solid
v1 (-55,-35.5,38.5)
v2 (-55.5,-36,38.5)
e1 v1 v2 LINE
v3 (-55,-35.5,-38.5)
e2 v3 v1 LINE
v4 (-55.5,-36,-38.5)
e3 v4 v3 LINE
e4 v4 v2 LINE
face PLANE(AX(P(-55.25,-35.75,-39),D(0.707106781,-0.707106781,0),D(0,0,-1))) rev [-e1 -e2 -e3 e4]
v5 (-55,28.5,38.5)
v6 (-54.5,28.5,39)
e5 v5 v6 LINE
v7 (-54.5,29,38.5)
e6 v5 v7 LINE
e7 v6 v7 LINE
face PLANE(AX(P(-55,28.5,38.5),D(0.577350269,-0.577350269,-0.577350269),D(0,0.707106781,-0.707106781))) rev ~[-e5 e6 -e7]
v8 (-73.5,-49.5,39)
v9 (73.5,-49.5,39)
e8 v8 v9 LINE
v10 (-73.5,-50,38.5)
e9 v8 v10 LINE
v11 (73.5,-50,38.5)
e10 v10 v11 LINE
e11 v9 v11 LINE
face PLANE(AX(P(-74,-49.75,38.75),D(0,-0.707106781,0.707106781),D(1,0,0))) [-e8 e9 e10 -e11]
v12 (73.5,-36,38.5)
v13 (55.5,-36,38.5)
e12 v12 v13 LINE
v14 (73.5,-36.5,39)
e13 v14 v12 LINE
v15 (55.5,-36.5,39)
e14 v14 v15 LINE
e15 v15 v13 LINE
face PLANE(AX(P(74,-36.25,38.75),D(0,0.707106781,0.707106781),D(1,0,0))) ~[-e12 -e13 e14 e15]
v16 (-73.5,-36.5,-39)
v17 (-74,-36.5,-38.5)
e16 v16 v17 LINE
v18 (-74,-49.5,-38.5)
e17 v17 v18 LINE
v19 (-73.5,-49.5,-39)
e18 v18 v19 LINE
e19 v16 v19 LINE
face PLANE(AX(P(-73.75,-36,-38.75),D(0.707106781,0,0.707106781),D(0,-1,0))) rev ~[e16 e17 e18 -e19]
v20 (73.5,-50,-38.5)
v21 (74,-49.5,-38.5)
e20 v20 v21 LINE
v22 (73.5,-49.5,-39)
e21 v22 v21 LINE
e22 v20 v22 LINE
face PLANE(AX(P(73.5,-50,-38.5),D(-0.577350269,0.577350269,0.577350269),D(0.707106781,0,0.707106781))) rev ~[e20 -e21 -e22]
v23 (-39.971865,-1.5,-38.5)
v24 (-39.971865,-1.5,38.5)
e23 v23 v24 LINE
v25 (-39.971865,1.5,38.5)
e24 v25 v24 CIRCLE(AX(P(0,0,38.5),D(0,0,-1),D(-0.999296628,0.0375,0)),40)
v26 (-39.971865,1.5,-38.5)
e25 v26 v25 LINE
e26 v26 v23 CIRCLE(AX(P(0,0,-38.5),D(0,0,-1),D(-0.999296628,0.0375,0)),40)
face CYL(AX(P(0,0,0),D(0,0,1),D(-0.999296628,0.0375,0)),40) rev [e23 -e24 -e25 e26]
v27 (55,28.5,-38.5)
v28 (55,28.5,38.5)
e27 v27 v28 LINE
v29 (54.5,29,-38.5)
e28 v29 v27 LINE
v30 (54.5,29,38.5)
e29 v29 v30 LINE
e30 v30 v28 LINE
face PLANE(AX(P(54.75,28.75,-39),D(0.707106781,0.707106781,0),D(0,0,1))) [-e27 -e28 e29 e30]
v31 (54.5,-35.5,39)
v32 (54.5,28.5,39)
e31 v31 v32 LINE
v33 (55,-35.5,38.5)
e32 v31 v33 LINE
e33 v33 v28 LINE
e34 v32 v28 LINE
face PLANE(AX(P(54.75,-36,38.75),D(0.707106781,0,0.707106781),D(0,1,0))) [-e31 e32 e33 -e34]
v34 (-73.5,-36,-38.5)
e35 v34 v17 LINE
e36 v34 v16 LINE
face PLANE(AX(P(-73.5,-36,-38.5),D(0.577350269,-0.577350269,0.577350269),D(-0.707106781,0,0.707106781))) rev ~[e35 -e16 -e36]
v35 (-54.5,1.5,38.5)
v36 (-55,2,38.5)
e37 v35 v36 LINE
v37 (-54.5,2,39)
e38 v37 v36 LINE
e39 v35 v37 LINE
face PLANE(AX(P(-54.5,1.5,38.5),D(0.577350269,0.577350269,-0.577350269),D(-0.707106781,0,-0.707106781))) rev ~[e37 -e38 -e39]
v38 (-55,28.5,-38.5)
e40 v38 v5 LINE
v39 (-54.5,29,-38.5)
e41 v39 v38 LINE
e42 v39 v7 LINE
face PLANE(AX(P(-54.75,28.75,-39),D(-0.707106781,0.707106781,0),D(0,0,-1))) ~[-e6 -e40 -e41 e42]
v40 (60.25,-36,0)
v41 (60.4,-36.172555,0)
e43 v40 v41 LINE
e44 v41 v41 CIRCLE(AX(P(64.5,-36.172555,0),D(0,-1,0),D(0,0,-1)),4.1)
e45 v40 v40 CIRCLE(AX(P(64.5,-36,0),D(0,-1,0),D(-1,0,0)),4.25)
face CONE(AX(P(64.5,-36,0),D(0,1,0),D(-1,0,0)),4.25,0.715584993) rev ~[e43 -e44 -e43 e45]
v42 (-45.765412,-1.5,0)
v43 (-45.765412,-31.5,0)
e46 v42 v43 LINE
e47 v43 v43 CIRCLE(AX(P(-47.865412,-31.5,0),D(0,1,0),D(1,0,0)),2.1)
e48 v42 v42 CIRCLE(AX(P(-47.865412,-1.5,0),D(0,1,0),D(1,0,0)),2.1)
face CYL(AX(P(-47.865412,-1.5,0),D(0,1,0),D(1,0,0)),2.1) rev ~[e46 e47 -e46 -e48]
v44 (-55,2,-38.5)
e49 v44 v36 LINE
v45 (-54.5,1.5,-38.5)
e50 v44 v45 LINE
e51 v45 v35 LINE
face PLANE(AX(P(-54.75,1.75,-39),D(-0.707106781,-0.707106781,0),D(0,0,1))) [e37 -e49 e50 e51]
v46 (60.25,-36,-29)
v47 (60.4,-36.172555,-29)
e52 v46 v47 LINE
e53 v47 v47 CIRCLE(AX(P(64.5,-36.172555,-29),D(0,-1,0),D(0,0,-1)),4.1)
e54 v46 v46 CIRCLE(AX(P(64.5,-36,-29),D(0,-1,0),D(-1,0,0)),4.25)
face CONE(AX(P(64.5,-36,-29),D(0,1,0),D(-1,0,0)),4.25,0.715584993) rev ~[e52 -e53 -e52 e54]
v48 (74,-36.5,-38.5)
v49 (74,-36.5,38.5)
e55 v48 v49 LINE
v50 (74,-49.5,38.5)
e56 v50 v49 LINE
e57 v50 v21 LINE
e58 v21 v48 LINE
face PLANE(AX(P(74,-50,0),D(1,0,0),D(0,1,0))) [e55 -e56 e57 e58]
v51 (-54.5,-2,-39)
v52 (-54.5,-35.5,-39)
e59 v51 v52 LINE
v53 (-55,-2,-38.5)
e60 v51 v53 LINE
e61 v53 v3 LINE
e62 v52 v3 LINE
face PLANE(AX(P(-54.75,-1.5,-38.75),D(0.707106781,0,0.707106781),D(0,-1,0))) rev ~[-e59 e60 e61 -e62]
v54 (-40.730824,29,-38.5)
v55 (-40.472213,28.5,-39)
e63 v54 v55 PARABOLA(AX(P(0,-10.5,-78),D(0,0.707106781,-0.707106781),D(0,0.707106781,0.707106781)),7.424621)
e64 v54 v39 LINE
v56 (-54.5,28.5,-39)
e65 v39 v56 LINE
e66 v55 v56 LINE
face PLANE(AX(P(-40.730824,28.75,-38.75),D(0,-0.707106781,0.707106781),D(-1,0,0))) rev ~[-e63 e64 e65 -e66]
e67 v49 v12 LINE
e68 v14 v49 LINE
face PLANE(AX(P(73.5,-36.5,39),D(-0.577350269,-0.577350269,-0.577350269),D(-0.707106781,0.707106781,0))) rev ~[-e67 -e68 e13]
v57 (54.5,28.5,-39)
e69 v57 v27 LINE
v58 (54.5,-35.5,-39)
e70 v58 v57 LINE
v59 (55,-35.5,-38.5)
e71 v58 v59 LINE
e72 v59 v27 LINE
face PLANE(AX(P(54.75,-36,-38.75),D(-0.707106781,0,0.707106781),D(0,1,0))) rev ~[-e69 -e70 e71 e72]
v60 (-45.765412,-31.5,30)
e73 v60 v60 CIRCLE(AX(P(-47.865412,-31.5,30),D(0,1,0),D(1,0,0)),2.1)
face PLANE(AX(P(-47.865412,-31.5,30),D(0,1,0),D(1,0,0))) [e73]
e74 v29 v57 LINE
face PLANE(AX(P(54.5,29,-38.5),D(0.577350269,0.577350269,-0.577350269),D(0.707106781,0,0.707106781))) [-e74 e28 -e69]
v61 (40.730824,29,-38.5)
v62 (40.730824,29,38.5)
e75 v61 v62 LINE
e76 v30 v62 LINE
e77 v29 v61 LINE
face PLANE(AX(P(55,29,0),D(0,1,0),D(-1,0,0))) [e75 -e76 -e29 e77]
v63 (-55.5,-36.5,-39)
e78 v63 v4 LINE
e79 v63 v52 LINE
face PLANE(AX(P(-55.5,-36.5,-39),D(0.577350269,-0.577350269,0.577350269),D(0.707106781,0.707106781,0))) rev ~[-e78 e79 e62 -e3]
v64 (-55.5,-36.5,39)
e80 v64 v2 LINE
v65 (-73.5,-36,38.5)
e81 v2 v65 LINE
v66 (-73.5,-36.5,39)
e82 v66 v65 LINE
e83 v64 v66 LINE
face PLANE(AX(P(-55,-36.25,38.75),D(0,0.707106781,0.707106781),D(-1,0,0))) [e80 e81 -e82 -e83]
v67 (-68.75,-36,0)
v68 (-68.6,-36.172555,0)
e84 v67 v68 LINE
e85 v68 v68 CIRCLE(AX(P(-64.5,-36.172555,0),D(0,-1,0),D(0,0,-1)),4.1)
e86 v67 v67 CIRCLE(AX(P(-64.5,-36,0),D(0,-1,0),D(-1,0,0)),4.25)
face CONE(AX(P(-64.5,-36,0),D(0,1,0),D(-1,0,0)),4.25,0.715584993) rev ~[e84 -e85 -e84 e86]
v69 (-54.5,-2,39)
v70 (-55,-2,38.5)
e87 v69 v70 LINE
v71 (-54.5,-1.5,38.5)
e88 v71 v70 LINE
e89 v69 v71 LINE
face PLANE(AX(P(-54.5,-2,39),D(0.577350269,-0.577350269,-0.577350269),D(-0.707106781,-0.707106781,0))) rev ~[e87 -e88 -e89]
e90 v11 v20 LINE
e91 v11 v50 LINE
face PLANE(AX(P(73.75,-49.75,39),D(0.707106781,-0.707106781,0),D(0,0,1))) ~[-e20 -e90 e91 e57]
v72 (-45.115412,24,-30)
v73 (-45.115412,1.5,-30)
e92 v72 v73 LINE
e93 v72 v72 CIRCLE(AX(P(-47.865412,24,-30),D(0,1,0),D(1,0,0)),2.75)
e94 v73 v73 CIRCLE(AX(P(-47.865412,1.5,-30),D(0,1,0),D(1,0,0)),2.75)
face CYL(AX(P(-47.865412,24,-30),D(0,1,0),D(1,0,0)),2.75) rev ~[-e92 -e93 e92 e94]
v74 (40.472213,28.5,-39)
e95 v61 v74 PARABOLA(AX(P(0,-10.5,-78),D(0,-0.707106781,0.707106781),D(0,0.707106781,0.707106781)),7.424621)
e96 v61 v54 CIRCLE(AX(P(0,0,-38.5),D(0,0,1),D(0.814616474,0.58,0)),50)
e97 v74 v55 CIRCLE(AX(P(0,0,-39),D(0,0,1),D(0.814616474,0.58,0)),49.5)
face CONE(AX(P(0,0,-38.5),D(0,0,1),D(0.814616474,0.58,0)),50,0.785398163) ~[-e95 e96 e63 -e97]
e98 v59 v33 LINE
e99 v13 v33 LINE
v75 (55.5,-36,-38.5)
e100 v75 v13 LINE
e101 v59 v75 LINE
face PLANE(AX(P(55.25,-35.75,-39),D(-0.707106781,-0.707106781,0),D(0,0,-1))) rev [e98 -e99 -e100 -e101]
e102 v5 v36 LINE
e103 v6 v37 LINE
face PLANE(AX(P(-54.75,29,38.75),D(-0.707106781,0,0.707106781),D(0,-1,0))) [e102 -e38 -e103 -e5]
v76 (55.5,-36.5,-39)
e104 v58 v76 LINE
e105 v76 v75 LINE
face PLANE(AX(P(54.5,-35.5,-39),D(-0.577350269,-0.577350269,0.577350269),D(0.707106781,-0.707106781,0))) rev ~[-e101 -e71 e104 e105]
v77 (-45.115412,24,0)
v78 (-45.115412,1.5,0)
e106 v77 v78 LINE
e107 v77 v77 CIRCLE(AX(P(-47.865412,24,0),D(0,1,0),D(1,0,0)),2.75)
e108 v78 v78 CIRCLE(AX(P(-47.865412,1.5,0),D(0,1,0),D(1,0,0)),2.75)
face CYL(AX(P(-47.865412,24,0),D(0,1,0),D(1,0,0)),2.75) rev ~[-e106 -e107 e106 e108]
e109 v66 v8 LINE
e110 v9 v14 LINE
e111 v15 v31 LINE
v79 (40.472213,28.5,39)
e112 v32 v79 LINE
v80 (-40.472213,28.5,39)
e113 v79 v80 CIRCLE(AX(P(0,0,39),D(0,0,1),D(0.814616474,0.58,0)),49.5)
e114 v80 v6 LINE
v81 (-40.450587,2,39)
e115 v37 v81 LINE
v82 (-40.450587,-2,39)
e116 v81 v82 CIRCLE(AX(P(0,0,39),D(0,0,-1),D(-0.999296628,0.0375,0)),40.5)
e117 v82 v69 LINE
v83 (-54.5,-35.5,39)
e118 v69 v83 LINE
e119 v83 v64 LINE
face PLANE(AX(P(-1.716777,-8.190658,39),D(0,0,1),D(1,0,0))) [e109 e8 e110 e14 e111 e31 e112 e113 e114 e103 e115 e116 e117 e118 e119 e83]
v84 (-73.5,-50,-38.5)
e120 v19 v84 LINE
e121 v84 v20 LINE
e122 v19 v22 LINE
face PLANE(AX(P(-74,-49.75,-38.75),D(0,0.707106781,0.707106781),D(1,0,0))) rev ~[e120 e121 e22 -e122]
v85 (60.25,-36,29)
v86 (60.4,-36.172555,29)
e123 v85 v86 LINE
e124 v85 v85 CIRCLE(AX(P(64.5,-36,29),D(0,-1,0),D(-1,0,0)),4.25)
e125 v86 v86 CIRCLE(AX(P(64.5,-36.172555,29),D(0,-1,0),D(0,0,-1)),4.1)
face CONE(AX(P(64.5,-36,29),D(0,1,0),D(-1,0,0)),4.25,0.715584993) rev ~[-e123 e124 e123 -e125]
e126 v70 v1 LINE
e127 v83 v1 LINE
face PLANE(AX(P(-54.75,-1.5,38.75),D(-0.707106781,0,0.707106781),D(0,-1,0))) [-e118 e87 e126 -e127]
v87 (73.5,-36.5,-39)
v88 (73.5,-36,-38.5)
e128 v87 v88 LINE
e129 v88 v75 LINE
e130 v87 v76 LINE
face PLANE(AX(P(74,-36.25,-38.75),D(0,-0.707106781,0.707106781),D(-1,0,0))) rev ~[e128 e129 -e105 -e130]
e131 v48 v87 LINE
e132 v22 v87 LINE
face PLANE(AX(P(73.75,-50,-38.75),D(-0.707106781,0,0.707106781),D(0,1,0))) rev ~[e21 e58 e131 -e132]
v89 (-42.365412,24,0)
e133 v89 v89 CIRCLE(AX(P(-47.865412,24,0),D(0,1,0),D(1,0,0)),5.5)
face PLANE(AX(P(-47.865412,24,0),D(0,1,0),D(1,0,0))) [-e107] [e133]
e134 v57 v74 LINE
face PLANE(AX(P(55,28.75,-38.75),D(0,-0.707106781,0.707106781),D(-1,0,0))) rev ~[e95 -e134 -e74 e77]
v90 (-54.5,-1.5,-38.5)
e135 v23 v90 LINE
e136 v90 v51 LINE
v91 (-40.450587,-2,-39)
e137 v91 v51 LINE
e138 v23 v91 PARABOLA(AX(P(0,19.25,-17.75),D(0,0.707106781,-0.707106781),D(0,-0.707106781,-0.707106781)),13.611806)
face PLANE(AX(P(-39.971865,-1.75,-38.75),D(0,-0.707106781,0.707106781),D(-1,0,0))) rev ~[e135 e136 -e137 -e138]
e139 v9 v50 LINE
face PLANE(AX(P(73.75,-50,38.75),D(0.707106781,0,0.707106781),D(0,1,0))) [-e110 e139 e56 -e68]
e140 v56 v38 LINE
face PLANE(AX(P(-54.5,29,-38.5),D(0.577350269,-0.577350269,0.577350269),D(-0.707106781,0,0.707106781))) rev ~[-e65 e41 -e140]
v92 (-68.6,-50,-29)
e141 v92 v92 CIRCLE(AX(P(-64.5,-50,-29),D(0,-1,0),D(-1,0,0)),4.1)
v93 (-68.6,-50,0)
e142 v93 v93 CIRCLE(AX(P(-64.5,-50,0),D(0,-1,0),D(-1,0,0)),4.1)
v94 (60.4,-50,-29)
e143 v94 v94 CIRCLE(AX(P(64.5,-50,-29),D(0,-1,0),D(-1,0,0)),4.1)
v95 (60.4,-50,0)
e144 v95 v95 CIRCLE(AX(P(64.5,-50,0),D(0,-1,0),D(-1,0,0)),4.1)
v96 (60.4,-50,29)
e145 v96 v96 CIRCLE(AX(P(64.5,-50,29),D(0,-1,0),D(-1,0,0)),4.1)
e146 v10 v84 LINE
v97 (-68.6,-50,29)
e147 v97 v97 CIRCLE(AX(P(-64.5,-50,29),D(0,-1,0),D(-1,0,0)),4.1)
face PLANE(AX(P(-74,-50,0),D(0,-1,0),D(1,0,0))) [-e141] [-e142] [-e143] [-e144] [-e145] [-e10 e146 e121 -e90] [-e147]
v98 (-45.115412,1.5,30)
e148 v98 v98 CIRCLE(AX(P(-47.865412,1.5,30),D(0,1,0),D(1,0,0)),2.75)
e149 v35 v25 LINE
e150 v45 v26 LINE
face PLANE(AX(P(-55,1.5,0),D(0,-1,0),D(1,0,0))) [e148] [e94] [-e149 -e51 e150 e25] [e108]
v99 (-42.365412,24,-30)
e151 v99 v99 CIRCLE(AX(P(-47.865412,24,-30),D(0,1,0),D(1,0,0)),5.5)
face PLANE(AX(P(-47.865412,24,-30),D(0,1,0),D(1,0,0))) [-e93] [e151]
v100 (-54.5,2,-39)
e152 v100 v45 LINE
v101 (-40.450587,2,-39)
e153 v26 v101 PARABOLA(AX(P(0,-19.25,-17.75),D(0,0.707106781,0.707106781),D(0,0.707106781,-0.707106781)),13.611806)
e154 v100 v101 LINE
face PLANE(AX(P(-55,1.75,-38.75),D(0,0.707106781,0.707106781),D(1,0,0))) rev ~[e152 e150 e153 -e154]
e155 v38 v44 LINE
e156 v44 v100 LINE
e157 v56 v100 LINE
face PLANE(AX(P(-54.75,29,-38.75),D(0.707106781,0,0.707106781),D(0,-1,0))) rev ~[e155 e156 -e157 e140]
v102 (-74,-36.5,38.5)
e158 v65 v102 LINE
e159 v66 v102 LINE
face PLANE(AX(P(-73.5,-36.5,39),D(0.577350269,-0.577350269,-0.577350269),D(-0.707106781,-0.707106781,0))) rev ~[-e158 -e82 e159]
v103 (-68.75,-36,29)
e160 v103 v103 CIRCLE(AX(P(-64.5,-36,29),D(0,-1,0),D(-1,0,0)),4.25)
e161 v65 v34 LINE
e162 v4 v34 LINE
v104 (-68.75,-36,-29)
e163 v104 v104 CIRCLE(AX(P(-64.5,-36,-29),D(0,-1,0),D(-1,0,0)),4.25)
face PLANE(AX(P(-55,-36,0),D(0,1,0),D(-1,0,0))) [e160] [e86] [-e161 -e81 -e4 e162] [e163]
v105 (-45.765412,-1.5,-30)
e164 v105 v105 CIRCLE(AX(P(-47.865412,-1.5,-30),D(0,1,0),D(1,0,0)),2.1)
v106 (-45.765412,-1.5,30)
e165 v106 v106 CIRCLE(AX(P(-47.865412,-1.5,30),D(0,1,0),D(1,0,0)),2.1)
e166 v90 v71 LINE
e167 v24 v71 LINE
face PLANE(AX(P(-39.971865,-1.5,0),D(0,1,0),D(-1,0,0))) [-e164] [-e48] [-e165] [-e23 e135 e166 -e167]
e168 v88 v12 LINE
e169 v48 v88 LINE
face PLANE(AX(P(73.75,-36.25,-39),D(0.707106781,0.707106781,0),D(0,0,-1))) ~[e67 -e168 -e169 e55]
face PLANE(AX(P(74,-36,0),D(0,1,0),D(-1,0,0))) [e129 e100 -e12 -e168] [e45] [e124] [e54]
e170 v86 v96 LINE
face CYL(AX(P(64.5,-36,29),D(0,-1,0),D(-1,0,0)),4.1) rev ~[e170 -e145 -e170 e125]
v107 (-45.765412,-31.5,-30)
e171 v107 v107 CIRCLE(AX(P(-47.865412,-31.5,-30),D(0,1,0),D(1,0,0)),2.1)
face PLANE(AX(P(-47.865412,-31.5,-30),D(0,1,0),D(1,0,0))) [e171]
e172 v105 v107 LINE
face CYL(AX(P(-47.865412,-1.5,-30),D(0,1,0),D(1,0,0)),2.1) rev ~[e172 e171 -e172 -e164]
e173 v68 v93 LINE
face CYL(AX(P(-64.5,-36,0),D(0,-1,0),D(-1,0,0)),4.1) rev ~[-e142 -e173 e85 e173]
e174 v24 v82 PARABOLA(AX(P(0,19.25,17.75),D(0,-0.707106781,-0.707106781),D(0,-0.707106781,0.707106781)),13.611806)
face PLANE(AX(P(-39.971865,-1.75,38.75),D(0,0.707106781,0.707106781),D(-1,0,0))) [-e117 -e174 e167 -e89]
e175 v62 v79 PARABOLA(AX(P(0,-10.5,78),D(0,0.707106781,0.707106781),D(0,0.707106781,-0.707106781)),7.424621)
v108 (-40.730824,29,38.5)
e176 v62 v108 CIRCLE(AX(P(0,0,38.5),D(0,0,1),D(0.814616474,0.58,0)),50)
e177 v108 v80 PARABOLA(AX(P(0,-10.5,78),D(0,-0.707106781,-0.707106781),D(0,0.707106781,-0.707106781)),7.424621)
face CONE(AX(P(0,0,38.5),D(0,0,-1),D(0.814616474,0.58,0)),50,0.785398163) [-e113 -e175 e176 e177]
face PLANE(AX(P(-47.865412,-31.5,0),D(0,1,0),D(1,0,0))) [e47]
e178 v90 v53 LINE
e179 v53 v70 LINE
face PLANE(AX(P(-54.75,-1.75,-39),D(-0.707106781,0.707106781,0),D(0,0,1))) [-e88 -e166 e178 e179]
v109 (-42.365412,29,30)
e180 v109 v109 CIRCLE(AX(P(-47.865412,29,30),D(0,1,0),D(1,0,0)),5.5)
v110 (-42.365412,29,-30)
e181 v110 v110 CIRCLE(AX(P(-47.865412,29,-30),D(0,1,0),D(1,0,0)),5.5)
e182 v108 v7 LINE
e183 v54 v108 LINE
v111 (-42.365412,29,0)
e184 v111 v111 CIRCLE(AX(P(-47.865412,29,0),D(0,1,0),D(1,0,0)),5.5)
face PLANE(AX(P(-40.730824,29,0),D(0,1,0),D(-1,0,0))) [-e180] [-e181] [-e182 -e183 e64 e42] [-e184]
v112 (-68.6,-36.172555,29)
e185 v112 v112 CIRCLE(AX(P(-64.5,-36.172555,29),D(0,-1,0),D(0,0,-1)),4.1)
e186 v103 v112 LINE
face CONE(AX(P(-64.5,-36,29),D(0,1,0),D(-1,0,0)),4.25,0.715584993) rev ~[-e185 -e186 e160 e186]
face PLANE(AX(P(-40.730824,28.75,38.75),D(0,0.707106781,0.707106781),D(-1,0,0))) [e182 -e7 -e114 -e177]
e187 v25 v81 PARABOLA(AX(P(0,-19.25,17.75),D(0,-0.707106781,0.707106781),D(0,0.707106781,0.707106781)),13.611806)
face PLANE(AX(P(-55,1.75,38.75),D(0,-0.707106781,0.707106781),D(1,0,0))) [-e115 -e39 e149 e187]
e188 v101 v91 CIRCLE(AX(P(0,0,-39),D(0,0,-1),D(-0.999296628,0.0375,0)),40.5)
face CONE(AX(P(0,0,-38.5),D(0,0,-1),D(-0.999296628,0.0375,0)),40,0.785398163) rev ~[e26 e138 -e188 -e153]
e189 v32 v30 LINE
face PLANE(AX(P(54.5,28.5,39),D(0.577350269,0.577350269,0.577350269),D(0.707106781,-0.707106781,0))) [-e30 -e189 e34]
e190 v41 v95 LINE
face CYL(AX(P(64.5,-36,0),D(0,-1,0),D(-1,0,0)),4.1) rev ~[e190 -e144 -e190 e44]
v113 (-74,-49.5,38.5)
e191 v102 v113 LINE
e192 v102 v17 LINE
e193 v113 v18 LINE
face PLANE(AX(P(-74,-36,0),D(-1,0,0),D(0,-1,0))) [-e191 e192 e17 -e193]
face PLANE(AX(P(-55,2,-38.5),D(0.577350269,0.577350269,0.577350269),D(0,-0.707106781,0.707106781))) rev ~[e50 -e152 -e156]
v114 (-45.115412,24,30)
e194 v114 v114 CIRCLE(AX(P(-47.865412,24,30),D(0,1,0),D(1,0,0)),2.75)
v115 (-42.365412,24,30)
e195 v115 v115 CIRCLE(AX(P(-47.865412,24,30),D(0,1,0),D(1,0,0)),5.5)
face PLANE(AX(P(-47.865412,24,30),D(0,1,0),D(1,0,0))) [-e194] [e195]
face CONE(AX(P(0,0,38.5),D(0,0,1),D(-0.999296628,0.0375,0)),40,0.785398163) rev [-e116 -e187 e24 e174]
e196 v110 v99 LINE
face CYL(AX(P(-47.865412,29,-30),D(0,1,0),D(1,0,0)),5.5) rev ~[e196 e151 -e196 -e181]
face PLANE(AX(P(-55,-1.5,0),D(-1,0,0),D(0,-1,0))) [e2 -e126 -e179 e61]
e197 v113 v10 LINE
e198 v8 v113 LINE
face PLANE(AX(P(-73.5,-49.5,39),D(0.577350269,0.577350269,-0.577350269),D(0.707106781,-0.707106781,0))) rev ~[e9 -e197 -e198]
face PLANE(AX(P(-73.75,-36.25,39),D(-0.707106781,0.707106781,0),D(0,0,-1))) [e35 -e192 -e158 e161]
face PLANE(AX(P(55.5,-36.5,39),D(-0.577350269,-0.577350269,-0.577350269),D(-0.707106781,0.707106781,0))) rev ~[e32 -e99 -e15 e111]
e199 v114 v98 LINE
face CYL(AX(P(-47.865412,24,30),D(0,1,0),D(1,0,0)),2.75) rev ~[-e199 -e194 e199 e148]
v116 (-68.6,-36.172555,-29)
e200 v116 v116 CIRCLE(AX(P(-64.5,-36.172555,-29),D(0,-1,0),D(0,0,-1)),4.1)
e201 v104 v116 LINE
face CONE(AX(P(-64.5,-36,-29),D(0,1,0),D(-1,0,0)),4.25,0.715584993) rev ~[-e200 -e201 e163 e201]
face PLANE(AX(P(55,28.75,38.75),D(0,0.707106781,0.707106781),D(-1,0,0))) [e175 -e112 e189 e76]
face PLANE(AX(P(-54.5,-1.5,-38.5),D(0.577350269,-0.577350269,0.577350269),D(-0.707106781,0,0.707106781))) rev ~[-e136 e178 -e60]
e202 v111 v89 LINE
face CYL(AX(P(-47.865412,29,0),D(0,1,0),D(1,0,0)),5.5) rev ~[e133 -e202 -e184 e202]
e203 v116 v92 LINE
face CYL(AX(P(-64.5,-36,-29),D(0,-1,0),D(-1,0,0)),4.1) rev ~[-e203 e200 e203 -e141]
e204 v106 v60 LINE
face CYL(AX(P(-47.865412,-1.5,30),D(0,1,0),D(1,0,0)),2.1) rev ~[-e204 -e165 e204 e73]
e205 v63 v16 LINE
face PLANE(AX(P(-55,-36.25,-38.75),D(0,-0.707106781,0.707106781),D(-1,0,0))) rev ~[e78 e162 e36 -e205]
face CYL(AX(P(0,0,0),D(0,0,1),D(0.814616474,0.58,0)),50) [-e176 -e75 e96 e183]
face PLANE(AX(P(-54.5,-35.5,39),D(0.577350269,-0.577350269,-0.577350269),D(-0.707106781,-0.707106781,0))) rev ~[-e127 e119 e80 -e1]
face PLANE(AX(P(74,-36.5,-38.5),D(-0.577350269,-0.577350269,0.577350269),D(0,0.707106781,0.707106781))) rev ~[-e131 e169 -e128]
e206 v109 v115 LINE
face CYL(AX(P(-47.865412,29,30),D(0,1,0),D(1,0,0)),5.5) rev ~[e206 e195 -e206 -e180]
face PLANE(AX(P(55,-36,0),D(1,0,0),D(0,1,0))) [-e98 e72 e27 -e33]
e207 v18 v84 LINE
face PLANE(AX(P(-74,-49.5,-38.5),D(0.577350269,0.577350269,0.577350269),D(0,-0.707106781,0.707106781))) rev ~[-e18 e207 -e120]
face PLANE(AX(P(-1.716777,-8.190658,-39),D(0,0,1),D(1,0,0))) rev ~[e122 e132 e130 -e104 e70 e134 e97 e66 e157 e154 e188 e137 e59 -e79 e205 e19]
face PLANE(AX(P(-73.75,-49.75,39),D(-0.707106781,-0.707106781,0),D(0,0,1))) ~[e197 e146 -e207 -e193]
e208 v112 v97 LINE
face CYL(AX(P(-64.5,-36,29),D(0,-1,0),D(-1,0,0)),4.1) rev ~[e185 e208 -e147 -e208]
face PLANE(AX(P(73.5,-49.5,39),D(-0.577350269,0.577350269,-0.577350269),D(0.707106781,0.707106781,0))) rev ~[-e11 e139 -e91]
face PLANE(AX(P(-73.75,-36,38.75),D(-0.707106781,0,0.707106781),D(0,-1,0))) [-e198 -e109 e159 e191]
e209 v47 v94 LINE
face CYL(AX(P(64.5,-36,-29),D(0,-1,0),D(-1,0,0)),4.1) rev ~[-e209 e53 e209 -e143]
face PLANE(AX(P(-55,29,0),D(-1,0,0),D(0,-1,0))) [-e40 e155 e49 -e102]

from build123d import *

# Parameters (mm, degrees)
EXTRUDE_1_DEPTH      = 39
SKETCH_2_R           = 5.5
CUT_EXTRUDE_1_DEPTH  = 5
SKETCH_3_R           = 2.75
CUT_EXTRUDE_2_DEPTH  = 25.5
SKETCH_4_R           = 2.1
CUT_EXTRUDE_3_DEPTH  = 30
HOLEWZD1_D           = 8.2
HOLEWZD1_DEPTH       = 16
HOLEWZD1_CSINK_D     = 8.5
HOLEWZD1_CSINK_ANGLE = 82
CHAMFER1_SIZE        = 0.5


with BuildPart() as part:
    # Эскиз1 → Бобышка-Вытянуть1 (new body, symmetric)
    with BuildSketch(Plane.XY):
        with BuildLine():
            Line((74, -50), (74, -36))
            Line((74, -36), (55, -36))
            Line((55, -36), (55, 29))
            Line((55, 29), (40.730823709, 29))
            ThreePointArc((40.730823709, 29), (0, 50), (-40.730823709, 29))
            Line((-40.730823709, 29), (-55, 29))
            Line((-55, 29), (-55, 1.5))
            Line((-55, 1.5), (-39.971865105, 1.5))
            ThreePointArc((-39.971865105, 1.5), (40, 0), (-39.971865105, -1.5))
            Line((-39.971865105, -1.5), (-55, -1.5))
            Line((-55, -1.5), (-55, -36))
            Line((-55, -36), (-74, -36))
            Line((-74, -36), (-74, -50))
            Line((-74, -50), (74, -50))
        make_face()
    extrude(amount=EXTRUDE_1_DEPTH, both=True)

    # Эскиз2 → Вырез-Вытянуть1 (cut)
    with BuildSketch(Plane(origin=(0, 29, 0), x_dir=(1, 0, 0), z_dir=(0, 1, 0))):
        with Locations((-47.865411854, 30)):
            Circle(SKETCH_2_R)
        with Locations((-47.865411854, 0)):
            Circle(SKETCH_2_R)
        with Locations((-47.865411854, -30)):
            Circle(SKETCH_2_R)
    extrude(amount=-CUT_EXTRUDE_1_DEPTH, mode=Mode.SUBTRACT)

    # Эскиз3 → Вырез-Вытянуть2 (cut)
    with BuildSketch(Plane(origin=(0, 24, 0), x_dir=(1, 0, 0), z_dir=(0, 1, 0))):
        with Locations((-47.865411854, 30)):
            Circle(SKETCH_3_R)
        with Locations((-47.865411854, 0)):
            Circle(SKETCH_3_R)
        with Locations((-47.865411854, -30)):
            Circle(SKETCH_3_R)
    extrude(amount=-CUT_EXTRUDE_2_DEPTH, mode=Mode.SUBTRACT)

    # Эскиз4 → Вырез-Вытянуть3 (cut)
    with BuildSketch(Plane(origin=(0, -1.5, 0), x_dir=(1, 0, 0), z_dir=(0, 1, 0))):
        with Locations((-47.865411854, 30)):
            Circle(SKETCH_4_R)
        with Locations((-47.865411854, 0)):
            Circle(SKETCH_4_R)
        with Locations((-47.865411854, -30)):
            Circle(SKETCH_4_R)
    extrude(amount=-CUT_EXTRUDE_3_DEPTH, mode=Mode.SUBTRACT)

    # HoleWzd1
    with Locations(Plane(origin=(0, -36, 0), x_dir=(1, 0, 0), z_dir=(0, 1, 0))):
        with Locations((-64.5, 29), (-64.5, 0), (-64.5, -29), (64.5, -29), (64.5, 0), (64.5, 29)):
            CounterSinkHole(HOLEWZD1_D / 2, HOLEWZD1_CSINK_D / 2, depth=HOLEWZD1_DEPTH, counter_sink_angle=HOLEWZD1_CSINK_ANGLE)

    # Chamfer1
    chamfer1_edges = [part.edges().sort_by_distance(p)[0] for p in [
        (-47.865411854, 29, 39),
        (55, -3.5, -39),
        (64.5, -36, -39),
        (74, -43, -39),
        (0, -50, -39),
        (-55, 15.25, 39),
        (-74, -43, -39),
        (-64.5, -36, -39),
        (-55, -18.75, -39),
        (-47.485932553, -1.5, -39),
        (40, 0, -39),
        (-47.485932553, 1.5, -39),
        (-55, 15.25, -39),
        (-47.485932553, 1.5, 39),
        (-47.865411854, 29, -39),
        (0, 50, -39),
        (47.865411854, 29, -39),
        (40, 0, 39),
        (55, 29, 0),
        (55, -36, 0),
        (74, -36, 0),
        (74, -50, 0),
        (-74, -50, 0),
        (-74, -36, 0),
        (-55, -36, 0),
        (-55, -1.5, 0),
        (-55, 1.5, 0),
        (-55, 29, 0),
        (-47.485932553, -1.5, 39),
        (-55, -18.75, 39),
        (-64.5, -36, 39),
        (47.865411854, 29, 39),
        (-74, -43, 39),
        (0, -50, 39),
        (74, -43, 39),
        (64.5, -36, 39),
        (55, -3.5, 39),
        (0, 50, 39),
    ]]
    chamfer(chamfer1_edges, length=CHAMFER1_SIZE)


solid = part.part
